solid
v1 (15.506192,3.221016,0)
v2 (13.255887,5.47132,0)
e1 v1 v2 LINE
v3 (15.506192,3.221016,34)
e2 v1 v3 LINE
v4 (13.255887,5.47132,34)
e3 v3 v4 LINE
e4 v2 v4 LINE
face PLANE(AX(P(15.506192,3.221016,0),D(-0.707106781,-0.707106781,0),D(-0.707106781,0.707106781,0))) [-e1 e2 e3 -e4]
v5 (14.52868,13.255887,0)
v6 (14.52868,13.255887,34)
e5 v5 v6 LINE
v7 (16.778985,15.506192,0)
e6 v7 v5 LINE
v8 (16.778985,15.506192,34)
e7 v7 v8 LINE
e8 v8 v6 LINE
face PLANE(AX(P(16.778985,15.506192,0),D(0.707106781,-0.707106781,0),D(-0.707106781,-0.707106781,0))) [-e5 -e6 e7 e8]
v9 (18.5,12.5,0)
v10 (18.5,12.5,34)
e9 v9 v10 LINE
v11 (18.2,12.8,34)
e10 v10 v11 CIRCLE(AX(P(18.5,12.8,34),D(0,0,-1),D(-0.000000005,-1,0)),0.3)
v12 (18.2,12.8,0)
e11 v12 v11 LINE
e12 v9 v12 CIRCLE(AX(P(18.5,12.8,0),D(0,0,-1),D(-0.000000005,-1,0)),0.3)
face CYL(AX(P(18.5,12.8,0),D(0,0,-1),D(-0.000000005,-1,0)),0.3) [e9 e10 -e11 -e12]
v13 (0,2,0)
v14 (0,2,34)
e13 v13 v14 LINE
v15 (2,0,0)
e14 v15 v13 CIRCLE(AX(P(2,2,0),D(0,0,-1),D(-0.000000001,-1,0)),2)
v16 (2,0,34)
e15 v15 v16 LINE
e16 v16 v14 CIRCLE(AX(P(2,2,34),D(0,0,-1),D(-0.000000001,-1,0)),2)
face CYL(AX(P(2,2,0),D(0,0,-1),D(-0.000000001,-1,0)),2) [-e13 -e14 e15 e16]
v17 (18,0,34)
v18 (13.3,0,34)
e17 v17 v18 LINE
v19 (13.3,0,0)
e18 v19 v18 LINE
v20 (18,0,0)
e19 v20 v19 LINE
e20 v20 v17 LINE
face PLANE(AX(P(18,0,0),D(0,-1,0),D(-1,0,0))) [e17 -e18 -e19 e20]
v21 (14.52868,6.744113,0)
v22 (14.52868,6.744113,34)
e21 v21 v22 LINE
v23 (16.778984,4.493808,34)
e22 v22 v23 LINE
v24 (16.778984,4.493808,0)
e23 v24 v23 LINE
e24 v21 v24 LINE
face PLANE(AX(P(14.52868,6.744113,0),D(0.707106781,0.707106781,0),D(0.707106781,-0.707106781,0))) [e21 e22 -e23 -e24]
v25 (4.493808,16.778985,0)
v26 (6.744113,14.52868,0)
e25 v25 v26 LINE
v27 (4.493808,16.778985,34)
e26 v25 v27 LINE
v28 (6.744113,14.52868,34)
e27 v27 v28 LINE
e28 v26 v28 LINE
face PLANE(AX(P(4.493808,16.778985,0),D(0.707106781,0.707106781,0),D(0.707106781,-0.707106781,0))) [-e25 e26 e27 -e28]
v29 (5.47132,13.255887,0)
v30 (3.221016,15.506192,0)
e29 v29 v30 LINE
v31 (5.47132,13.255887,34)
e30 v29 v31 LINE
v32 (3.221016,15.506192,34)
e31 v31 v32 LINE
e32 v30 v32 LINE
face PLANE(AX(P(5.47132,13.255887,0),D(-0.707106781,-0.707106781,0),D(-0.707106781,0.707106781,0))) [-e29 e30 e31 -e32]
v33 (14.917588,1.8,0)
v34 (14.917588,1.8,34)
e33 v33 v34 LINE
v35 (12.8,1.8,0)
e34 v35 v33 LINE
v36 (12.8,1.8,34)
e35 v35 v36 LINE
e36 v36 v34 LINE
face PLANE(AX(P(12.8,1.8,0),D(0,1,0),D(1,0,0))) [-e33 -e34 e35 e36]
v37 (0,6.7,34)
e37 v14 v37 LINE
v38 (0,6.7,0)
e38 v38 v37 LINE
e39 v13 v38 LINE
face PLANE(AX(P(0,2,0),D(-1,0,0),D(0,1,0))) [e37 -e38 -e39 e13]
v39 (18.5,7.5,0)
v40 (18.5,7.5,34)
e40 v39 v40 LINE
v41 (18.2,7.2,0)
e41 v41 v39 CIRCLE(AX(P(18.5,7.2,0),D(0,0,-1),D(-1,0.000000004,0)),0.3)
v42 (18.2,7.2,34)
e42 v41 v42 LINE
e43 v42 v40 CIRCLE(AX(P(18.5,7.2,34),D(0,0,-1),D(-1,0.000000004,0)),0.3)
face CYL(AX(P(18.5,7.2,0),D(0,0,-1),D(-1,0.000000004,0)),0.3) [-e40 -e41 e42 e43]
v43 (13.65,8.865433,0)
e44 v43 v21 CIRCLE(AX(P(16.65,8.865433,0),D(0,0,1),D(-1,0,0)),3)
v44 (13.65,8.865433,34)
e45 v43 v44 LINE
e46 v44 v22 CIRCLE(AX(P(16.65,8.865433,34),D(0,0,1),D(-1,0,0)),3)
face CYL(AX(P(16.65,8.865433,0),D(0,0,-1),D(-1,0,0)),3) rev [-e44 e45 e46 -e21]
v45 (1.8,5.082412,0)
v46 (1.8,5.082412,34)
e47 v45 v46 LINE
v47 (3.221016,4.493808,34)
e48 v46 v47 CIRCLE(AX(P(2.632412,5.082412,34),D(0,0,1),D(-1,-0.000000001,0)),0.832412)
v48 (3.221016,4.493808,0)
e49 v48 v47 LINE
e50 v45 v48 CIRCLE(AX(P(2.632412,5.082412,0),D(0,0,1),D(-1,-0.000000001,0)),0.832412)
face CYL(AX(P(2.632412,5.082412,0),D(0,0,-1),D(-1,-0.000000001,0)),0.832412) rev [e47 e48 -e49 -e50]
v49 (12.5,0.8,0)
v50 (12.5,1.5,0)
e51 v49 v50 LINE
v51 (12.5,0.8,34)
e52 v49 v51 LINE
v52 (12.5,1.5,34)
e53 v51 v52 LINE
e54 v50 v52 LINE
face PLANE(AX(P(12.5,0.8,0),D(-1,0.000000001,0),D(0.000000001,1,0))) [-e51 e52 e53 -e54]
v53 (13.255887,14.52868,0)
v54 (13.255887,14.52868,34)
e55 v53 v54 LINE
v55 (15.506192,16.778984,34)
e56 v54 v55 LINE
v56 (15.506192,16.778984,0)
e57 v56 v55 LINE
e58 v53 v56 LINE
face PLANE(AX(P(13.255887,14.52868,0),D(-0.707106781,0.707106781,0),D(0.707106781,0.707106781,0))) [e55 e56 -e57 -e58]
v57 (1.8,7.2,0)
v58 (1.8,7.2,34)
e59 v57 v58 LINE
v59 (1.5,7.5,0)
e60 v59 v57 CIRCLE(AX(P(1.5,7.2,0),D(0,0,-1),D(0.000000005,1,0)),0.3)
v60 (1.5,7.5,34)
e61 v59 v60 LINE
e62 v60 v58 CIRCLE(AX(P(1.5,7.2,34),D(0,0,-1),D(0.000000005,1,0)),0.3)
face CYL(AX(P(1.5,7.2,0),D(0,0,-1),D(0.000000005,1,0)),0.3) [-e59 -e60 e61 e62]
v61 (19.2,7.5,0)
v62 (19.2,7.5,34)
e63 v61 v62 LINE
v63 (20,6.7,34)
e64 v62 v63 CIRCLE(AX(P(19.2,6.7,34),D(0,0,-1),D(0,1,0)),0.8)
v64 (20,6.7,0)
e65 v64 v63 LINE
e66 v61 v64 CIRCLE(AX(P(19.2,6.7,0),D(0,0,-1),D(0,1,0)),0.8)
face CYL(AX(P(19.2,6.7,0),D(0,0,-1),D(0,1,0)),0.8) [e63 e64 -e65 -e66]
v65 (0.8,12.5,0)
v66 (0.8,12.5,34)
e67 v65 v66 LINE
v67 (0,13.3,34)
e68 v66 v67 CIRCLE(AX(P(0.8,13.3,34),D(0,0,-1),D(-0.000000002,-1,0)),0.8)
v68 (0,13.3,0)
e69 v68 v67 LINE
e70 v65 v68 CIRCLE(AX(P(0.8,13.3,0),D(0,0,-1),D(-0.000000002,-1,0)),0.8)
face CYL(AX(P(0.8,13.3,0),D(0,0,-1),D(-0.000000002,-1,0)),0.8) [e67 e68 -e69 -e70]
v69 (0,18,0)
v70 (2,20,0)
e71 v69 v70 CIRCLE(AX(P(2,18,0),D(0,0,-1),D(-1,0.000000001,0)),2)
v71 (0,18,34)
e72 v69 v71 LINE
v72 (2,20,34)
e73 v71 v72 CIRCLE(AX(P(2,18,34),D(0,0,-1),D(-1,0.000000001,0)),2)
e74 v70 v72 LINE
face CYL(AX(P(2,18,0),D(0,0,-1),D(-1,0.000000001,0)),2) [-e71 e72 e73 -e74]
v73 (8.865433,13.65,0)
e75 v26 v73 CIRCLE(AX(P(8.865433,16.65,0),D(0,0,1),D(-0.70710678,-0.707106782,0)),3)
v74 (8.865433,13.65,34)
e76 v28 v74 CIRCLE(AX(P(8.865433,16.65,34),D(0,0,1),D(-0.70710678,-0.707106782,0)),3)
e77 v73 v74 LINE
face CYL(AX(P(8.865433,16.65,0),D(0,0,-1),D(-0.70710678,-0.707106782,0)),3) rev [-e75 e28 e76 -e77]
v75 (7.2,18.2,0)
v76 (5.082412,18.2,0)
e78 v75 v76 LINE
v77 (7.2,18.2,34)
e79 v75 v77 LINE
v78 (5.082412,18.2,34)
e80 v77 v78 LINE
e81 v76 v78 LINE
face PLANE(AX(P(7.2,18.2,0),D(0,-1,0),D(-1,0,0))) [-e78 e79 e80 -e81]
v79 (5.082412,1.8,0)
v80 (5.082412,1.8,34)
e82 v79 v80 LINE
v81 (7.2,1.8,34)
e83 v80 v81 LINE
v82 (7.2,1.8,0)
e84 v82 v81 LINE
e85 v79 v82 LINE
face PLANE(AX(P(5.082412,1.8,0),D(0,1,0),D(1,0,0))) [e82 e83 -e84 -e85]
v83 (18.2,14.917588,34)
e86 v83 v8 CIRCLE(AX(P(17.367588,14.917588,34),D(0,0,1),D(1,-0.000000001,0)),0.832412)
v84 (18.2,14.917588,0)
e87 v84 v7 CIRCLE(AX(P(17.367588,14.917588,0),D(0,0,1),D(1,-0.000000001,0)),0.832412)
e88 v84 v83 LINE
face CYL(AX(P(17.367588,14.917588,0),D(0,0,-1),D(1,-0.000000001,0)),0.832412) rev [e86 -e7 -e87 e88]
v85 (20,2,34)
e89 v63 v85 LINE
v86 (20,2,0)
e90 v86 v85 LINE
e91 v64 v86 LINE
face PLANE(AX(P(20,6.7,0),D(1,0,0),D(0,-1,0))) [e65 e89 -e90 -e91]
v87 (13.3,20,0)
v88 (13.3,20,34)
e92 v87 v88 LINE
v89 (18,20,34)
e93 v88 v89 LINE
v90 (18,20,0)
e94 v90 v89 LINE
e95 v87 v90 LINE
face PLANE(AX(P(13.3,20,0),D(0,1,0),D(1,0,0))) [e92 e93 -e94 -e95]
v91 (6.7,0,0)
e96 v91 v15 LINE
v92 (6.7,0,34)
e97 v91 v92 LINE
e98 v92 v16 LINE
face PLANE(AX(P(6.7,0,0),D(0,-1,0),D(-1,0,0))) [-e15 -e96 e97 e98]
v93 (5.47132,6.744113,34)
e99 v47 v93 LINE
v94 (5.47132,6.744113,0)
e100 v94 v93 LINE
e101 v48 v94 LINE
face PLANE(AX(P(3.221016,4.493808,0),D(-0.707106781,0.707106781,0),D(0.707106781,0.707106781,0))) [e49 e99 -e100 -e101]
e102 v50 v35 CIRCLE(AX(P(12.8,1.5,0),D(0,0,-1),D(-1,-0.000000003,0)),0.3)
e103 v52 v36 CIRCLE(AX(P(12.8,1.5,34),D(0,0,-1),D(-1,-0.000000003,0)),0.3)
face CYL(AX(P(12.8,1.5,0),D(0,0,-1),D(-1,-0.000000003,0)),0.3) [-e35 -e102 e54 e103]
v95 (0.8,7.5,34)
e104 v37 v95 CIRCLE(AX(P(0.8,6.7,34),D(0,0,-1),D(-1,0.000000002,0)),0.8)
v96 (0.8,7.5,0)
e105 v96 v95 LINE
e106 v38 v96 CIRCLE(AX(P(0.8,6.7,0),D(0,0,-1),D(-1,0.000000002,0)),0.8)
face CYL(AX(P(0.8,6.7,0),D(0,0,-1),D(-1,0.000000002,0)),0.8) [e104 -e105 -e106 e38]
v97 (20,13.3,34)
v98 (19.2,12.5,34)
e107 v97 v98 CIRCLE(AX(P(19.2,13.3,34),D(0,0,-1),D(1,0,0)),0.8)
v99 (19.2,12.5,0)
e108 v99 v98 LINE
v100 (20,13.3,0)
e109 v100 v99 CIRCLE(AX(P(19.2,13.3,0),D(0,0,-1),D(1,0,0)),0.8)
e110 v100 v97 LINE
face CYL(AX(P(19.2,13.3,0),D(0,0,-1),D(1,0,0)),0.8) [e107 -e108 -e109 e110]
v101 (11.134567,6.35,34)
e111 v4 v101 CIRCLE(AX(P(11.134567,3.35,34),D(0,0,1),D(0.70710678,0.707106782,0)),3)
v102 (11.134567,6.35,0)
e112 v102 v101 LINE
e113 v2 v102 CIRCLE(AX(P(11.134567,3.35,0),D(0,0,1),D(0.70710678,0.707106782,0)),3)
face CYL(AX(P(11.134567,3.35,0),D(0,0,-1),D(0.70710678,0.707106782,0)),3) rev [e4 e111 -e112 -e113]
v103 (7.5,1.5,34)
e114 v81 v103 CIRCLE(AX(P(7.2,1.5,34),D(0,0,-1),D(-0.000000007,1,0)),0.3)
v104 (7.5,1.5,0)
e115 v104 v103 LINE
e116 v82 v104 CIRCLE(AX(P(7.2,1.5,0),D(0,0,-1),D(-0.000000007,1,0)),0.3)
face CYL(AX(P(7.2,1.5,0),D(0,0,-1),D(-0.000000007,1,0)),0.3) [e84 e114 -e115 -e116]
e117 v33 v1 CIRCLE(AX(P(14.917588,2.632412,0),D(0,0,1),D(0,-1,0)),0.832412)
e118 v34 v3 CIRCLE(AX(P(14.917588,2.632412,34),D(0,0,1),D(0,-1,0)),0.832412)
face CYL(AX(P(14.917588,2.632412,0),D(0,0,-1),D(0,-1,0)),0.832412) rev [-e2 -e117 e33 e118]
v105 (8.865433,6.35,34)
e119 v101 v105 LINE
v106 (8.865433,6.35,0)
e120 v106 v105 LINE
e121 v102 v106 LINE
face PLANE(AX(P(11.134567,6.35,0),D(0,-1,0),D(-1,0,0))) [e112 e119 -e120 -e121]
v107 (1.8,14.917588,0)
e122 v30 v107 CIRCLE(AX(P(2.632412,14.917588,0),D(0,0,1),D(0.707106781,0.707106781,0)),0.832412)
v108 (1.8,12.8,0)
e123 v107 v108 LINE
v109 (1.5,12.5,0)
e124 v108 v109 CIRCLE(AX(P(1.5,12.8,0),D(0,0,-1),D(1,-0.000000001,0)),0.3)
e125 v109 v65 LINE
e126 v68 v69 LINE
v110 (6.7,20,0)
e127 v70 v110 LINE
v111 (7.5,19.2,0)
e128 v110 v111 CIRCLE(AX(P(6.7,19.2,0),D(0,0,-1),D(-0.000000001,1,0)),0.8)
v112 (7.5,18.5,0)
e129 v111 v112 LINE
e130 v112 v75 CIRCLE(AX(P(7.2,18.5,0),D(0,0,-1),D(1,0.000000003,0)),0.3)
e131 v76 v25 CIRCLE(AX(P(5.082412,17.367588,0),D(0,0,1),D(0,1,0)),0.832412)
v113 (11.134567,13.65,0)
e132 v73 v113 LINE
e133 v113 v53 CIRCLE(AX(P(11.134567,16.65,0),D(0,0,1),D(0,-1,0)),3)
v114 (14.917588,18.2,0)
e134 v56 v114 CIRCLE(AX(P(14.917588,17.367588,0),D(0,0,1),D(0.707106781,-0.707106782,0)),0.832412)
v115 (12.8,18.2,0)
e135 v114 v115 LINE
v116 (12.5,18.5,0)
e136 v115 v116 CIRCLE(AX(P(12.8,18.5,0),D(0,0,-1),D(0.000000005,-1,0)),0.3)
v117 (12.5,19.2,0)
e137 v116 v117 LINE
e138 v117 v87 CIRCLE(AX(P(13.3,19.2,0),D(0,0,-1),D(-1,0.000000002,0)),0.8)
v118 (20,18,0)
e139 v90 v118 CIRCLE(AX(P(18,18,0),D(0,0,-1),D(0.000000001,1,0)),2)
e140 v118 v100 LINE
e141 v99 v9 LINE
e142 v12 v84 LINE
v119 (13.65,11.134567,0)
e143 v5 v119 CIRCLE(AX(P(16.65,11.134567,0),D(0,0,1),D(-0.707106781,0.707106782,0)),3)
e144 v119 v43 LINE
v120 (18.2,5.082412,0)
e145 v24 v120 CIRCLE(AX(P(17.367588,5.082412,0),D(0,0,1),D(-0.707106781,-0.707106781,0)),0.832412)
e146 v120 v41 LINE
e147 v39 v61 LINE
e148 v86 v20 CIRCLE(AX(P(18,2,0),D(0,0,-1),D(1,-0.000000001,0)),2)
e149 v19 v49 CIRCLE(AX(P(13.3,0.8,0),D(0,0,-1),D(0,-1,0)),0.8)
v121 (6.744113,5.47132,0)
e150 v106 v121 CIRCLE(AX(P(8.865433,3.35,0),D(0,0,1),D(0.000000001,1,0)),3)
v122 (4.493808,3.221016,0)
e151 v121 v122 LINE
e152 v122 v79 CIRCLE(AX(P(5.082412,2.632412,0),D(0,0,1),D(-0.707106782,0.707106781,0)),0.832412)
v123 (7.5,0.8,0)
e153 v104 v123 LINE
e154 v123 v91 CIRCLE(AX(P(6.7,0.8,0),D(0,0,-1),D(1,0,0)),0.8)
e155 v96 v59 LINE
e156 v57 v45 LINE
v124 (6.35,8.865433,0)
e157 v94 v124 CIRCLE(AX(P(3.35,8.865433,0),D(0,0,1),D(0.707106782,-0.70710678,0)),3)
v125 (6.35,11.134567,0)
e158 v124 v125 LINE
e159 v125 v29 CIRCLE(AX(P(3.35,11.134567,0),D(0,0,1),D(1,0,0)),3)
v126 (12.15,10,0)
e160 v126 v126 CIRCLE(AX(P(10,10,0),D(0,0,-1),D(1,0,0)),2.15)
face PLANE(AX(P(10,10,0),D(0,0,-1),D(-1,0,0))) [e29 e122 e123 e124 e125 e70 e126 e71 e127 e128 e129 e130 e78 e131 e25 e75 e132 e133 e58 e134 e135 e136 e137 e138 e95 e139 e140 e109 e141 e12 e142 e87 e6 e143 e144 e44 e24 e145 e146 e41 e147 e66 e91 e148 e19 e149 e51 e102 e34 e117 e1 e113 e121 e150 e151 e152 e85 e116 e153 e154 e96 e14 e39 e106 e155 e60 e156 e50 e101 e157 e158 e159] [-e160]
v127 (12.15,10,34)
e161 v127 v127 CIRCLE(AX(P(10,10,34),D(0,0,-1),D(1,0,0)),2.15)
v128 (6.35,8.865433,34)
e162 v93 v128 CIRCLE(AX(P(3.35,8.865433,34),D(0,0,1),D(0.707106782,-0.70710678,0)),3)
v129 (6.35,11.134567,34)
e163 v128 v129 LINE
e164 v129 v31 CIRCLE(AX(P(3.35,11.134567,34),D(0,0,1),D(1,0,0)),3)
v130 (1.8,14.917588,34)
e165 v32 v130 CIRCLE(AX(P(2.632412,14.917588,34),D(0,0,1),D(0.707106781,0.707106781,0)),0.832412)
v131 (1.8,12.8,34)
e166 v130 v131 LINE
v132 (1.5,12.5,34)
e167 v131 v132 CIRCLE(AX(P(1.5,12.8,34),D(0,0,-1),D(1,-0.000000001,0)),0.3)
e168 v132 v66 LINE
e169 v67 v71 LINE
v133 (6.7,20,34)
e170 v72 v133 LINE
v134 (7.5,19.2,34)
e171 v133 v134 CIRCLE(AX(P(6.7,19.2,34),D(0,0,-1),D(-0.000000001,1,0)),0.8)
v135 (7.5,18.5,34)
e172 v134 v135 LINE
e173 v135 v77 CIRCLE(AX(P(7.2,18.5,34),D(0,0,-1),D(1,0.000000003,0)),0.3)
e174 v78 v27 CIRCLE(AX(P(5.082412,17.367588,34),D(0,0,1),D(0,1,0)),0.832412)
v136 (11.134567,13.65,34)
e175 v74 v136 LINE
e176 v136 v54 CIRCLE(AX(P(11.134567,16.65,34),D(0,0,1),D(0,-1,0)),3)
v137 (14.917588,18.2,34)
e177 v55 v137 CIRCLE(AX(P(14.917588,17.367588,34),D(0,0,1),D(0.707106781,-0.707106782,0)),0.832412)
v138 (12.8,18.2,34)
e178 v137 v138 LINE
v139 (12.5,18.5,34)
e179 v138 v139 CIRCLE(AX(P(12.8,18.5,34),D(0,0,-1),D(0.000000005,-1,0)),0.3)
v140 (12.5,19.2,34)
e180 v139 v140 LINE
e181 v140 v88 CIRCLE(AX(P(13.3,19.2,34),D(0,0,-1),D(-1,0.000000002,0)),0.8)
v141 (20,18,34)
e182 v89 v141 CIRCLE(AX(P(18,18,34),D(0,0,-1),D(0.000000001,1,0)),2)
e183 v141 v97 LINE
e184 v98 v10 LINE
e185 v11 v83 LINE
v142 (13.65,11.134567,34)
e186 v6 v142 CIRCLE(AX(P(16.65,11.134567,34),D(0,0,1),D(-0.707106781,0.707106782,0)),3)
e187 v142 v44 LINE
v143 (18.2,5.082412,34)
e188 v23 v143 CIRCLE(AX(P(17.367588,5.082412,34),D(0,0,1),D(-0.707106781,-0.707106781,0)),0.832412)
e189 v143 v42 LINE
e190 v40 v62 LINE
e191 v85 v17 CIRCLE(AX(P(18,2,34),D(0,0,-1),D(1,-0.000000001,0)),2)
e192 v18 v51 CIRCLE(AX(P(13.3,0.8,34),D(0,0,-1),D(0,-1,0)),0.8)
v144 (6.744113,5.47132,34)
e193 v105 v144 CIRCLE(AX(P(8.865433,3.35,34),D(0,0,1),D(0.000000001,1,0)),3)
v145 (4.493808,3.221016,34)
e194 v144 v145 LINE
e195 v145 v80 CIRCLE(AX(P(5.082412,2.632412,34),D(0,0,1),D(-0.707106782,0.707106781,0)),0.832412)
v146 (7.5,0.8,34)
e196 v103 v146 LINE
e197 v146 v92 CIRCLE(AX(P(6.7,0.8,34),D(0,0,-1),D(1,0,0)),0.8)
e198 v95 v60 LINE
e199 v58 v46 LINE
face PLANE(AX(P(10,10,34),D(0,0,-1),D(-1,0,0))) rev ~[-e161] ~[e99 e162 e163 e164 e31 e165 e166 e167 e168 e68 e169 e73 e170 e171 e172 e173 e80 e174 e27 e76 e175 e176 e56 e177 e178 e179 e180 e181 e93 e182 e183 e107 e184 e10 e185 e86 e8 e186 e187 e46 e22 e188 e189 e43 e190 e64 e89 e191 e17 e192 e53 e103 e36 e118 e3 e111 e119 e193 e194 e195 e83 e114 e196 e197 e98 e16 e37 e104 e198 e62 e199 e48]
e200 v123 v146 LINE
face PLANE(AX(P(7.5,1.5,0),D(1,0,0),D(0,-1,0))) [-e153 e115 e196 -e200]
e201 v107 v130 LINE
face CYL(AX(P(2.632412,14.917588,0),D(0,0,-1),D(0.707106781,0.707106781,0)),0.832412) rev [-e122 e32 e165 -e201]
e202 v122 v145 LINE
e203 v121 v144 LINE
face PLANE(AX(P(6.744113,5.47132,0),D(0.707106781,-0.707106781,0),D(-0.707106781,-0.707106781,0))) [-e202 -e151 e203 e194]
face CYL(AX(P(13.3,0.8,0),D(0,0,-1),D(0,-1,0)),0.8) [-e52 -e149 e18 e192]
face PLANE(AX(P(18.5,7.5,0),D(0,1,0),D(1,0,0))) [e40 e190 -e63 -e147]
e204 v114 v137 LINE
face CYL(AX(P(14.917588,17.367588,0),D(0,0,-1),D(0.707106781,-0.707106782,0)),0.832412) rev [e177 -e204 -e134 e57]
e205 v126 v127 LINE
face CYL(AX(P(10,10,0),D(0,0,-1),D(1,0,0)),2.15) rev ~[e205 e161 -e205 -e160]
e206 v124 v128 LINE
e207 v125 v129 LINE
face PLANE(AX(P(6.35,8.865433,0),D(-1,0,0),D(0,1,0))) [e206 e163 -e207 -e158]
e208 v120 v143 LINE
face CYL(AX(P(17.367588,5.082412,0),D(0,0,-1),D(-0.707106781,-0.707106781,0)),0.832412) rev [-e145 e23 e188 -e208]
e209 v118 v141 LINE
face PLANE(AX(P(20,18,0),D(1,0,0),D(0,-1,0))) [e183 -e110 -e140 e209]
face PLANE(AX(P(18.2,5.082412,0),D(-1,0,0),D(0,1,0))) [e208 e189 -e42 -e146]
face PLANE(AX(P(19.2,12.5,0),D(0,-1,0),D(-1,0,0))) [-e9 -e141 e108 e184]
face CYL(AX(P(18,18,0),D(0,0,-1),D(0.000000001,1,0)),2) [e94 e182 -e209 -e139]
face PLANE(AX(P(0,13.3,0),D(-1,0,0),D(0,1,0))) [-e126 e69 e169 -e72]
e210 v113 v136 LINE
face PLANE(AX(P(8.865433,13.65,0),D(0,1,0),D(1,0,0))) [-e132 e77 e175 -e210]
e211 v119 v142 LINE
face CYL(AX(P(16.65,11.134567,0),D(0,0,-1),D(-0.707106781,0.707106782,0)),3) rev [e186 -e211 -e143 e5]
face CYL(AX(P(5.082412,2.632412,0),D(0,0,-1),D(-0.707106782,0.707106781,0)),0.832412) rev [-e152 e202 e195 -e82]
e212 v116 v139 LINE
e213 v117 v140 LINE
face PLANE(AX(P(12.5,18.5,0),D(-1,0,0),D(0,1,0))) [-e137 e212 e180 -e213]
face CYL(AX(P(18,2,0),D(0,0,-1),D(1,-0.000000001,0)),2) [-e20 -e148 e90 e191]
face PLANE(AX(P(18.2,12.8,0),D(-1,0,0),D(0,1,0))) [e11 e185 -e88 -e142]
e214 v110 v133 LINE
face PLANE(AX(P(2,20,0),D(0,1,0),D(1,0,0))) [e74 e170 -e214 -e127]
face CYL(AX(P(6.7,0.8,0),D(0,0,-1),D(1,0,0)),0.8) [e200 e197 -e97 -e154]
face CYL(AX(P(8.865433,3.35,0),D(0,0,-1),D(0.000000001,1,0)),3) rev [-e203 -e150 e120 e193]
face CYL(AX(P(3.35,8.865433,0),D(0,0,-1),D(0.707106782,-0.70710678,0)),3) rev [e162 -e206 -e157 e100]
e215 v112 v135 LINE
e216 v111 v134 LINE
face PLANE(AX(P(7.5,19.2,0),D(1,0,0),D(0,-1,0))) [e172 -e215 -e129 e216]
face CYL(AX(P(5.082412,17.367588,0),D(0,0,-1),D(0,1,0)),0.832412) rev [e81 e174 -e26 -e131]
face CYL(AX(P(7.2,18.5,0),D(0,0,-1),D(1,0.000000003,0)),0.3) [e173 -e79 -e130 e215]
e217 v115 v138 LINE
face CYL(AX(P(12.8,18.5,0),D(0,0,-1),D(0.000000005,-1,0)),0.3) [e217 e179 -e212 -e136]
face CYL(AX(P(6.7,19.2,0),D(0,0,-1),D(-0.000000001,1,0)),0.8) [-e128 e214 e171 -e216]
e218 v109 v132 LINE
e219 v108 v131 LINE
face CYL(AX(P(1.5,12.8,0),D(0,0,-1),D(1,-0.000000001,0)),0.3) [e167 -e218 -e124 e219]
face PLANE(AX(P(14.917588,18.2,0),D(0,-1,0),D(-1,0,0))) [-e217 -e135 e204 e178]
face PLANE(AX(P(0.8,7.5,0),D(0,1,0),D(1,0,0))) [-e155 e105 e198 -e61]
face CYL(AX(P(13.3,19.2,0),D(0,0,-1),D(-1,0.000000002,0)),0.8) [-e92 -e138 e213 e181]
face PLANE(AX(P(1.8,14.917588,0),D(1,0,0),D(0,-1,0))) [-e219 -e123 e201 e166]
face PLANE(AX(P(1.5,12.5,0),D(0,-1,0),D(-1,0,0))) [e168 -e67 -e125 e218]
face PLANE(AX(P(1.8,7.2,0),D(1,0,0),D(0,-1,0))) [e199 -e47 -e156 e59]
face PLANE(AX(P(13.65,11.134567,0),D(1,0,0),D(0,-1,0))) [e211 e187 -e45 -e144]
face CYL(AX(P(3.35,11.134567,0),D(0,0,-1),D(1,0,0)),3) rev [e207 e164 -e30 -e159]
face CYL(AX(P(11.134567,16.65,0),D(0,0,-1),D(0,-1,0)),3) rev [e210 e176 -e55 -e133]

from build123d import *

# Parameters (mm, degrees)
ESQUISSE1_R        = 2.15
BOSS_EXTRU_1_DEPTH = 34


with BuildPart() as part:
    # Esquisse1 → Boss.-Extru.1 (new body)
    with BuildSketch(Plane(origin=(0, 0, 0), x_dir=(-1, 0, 0), z_dir=(0, 0, -1))):
        with BuildLine():
            Line((-12.499999997, 0.800000003), (-12.499999998, 1.500000003))
            ThreePointArc((-12.499999998, 1.500000003), (-12.587867964, 1.712132039), (-12.8, 1.800000005))
            Line((-12.8, 1.800000005), (-14.9175884, 1.800000005))
            ThreePointArc((-14.9175884, 1.800000005), (-15.686636444, 2.31386148), (-15.50619229, 3.2210155))
            Line((-15.50619229, 3.2210155), (-13.25588745, 5.47132034))
            ThreePointArc((-13.25588745, 5.47132034), (-12.282617404, 6.121638593), (-11.134567108, 6.349999996))
            Line((-11.134567108, 6.349999996), (-8.865432907, 6.349999996))
            ThreePointArc((-8.865432907, 6.349999996), (-7.717382611, 6.121638594), (-6.744112567, 5.471320341))
            Line((-6.744112567, 5.471320341), (-4.493807729, 3.221015503))
            ThreePointArc((-4.493807729, 3.221015503), (-4.313363575, 2.313861481), (-5.082411621, 1.800000005))
            Line((-5.082411621, 1.800000005), (-7.20000001, 1.800000005))
            ThreePointArc((-7.20000001, 1.800000005), (-7.412132045, 1.71213204), (-7.50000001, 1.500000005))
            Line((-7.50000001, 1.500000005), (-7.50000001, 0.8))
            ThreePointArc((-7.50000001, 0.8), (-7.265685435, 0.234314575), (-6.70000001, 0))
            Line((-6.70000001, 0), (-2, 0))
            ThreePointArc((-2, 0), (-0.585786438, 0.585786438), (0, 2))
            Line((0, 2), (0, 6.699999998))
            ThreePointArc((0, 6.699999998), (-0.234314576, 7.265685424), (-0.800000003, 7.5))
            Line((-0.800000003, 7.5), (-1.50000001, 7.5))
            ThreePointArc((-1.50000001, 7.5), (-1.712132046, 7.412132033), (-1.800000013, 7.199999997))
            Line((-1.800000013, 7.199999997), (-1.800000013, 5.082411603))
            ThreePointArc((-1.800000013, 5.082411603), (-2.313861487, 4.31336356), (-3.221015507, 4.493807713))
            Line((-3.221015507, 4.493807713), (-5.471320347, 6.744112553))
            ThreePointArc((-5.471320347, 6.744112553), (-6.1216386, 7.717382599), (-6.350000003, 8.865432896))
            Line((-6.350000003, 8.865432896), (-6.350000003, 11.134567102))
            ThreePointArc((-6.350000003, 11.134567102), (-6.121638601, 12.282617397), (-5.471320348, 13.255887442))
            Line((-5.471320348, 13.255887442), (-3.221015512, 15.506192278))
            ThreePointArc((-3.221015512, 15.506192278), (-2.313861489, 15.686636432), (-1.800000013, 14.917588386))
            Line((-1.800000013, 14.917588386), (-1.800000013, 12.799999998))
            ThreePointArc((-1.800000013, 12.799999998), (-1.712132047, 12.587867963), (-1.500000013, 12.499999997))
            Line((-1.500000013, 12.499999997), (-0.8, 12.499999997))
            ThreePointArc((-0.8, 12.499999997), (-0.234314575, 12.734314573), (0, 13.299999998))
            Line((0, 13.299999998), (0, 18))
            ThreePointArc((0, 18), (-0.585786438, 19.414213562), (-2, 20))
            Line((-2, 20), (-6.700000008, 20))
            ThreePointArc((-6.700000008, 20), (-7.265685435, 19.765685424), (-7.50000001, 19.199999998))
            Line((-7.50000001, 19.199999998), (-7.50000001, 18.500000005))
            ThreePointArc((-7.50000001, 18.500000005), (-7.412132044, 18.287867969), (-7.200000008, 18.200000003))
            Line((-7.200000008, 18.200000003), (-5.082411594, 18.200000003))
            ThreePointArc((-5.082411594, 18.200000003), (-4.313363546, 17.686138526), (-4.493807701, 16.778984501))
            Line((-4.493807701, 16.778984501), (-6.744112542, 14.528679659))
            ThreePointArc((-6.744112542, 14.528679659), (-7.717382588, 13.878361406), (-8.865432885, 13.650000003))
            Line((-8.865432885, 13.650000003), (-11.134567112, 13.650000003))
            ThreePointArc((-11.134567112, 13.650000003), (-12.282617407, 13.878361405), (-13.255887452, 14.528679658))
            Line((-13.255887452, 14.528679658), (-15.506192292, 16.778984498))
            ThreePointArc((-15.506192292, 16.778984498), (-15.686636447, 17.686138525), (-14.917588397, 18.200000002))
            Line((-14.917588397, 18.200000002), (-12.799999998, 18.200000003))
            ThreePointArc((-12.799999998, 18.200000003), (-12.587867963, 18.287867968), (-12.499999997, 18.500000002))
            Line((-12.499999997, 18.500000002), (-12.499999997, 19.2))
            ThreePointArc((-12.499999997, 19.2), (-12.734314573, 19.765685425), (-13.299999998, 20))
            Line((-13.299999998, 20), (-18, 20))
            ThreePointArc((-18, 20), (-19.414213562, 19.414213562), (-20, 18))
            Line((-20, 18), (-20, 13.3))
            ThreePointArc((-20, 13.3), (-19.765685424, 12.734314573), (-19.199999998, 12.499999997))
            Line((-19.199999998, 12.499999997), (-18.500000003, 12.499999997))
            ThreePointArc((-18.500000003, 12.499999997), (-18.287867967, 12.587867964), (-18.2, 12.8))
            Line((-18.2, 12.8), (-18.2, 14.91758839))
            ThreePointArc((-18.2, 14.91758839), (-17.686138526, 15.686636434), (-16.778984506, 15.50619228))
            Line((-16.778984506, 15.50619228), (-14.528679657, 13.255887431))
            ThreePointArc((-14.528679657, 13.255887431), (-13.878361403, 12.282617385), (-13.650000001, 11.134567088))
            Line((-13.650000001, 11.134567088), (-13.650000001, 8.865432886))
            ThreePointArc((-13.650000001, 8.865432886), (-13.878361403, 7.717382591), (-14.528679656, 6.744112546))
            Line((-14.528679656, 6.744112546), (-16.778984496, 4.493807706))
            ThreePointArc((-16.778984496, 4.493807706), (-17.686138522, 4.313363551), (-18.2, 5.0824116))
            Line((-18.2, 5.0824116), (-18.2, 7.2))
            ThreePointArc((-18.2, 7.2), (-18.287867966, 7.412132034), (-18.5, 7.5))
            Line((-18.5, 7.5), (-19.2, 7.5))
            ThreePointArc((-19.2, 7.5), (-19.765685425, 7.265685425), (-20, 6.7))
            Line((-20, 6.7), (-20, 2))
            ThreePointArc((-20, 2), (-19.414213562, 0.585786438), (-18, 0))
            Line((-18, 0), (-13.3, 0))
            ThreePointArc((-13.3, 0), (-12.734314573, 0.234314576), (-12.499999997, 0.800000003))
        make_face()
        with Locations(Location((-10, 10, 0), (0, 0, 180))):
            Circle(ESQUISSE1_R, mode=Mode.SUBTRACT)
    extrude(amount=-BOSS_EXTRU_1_DEPTH)


solid = part.part
